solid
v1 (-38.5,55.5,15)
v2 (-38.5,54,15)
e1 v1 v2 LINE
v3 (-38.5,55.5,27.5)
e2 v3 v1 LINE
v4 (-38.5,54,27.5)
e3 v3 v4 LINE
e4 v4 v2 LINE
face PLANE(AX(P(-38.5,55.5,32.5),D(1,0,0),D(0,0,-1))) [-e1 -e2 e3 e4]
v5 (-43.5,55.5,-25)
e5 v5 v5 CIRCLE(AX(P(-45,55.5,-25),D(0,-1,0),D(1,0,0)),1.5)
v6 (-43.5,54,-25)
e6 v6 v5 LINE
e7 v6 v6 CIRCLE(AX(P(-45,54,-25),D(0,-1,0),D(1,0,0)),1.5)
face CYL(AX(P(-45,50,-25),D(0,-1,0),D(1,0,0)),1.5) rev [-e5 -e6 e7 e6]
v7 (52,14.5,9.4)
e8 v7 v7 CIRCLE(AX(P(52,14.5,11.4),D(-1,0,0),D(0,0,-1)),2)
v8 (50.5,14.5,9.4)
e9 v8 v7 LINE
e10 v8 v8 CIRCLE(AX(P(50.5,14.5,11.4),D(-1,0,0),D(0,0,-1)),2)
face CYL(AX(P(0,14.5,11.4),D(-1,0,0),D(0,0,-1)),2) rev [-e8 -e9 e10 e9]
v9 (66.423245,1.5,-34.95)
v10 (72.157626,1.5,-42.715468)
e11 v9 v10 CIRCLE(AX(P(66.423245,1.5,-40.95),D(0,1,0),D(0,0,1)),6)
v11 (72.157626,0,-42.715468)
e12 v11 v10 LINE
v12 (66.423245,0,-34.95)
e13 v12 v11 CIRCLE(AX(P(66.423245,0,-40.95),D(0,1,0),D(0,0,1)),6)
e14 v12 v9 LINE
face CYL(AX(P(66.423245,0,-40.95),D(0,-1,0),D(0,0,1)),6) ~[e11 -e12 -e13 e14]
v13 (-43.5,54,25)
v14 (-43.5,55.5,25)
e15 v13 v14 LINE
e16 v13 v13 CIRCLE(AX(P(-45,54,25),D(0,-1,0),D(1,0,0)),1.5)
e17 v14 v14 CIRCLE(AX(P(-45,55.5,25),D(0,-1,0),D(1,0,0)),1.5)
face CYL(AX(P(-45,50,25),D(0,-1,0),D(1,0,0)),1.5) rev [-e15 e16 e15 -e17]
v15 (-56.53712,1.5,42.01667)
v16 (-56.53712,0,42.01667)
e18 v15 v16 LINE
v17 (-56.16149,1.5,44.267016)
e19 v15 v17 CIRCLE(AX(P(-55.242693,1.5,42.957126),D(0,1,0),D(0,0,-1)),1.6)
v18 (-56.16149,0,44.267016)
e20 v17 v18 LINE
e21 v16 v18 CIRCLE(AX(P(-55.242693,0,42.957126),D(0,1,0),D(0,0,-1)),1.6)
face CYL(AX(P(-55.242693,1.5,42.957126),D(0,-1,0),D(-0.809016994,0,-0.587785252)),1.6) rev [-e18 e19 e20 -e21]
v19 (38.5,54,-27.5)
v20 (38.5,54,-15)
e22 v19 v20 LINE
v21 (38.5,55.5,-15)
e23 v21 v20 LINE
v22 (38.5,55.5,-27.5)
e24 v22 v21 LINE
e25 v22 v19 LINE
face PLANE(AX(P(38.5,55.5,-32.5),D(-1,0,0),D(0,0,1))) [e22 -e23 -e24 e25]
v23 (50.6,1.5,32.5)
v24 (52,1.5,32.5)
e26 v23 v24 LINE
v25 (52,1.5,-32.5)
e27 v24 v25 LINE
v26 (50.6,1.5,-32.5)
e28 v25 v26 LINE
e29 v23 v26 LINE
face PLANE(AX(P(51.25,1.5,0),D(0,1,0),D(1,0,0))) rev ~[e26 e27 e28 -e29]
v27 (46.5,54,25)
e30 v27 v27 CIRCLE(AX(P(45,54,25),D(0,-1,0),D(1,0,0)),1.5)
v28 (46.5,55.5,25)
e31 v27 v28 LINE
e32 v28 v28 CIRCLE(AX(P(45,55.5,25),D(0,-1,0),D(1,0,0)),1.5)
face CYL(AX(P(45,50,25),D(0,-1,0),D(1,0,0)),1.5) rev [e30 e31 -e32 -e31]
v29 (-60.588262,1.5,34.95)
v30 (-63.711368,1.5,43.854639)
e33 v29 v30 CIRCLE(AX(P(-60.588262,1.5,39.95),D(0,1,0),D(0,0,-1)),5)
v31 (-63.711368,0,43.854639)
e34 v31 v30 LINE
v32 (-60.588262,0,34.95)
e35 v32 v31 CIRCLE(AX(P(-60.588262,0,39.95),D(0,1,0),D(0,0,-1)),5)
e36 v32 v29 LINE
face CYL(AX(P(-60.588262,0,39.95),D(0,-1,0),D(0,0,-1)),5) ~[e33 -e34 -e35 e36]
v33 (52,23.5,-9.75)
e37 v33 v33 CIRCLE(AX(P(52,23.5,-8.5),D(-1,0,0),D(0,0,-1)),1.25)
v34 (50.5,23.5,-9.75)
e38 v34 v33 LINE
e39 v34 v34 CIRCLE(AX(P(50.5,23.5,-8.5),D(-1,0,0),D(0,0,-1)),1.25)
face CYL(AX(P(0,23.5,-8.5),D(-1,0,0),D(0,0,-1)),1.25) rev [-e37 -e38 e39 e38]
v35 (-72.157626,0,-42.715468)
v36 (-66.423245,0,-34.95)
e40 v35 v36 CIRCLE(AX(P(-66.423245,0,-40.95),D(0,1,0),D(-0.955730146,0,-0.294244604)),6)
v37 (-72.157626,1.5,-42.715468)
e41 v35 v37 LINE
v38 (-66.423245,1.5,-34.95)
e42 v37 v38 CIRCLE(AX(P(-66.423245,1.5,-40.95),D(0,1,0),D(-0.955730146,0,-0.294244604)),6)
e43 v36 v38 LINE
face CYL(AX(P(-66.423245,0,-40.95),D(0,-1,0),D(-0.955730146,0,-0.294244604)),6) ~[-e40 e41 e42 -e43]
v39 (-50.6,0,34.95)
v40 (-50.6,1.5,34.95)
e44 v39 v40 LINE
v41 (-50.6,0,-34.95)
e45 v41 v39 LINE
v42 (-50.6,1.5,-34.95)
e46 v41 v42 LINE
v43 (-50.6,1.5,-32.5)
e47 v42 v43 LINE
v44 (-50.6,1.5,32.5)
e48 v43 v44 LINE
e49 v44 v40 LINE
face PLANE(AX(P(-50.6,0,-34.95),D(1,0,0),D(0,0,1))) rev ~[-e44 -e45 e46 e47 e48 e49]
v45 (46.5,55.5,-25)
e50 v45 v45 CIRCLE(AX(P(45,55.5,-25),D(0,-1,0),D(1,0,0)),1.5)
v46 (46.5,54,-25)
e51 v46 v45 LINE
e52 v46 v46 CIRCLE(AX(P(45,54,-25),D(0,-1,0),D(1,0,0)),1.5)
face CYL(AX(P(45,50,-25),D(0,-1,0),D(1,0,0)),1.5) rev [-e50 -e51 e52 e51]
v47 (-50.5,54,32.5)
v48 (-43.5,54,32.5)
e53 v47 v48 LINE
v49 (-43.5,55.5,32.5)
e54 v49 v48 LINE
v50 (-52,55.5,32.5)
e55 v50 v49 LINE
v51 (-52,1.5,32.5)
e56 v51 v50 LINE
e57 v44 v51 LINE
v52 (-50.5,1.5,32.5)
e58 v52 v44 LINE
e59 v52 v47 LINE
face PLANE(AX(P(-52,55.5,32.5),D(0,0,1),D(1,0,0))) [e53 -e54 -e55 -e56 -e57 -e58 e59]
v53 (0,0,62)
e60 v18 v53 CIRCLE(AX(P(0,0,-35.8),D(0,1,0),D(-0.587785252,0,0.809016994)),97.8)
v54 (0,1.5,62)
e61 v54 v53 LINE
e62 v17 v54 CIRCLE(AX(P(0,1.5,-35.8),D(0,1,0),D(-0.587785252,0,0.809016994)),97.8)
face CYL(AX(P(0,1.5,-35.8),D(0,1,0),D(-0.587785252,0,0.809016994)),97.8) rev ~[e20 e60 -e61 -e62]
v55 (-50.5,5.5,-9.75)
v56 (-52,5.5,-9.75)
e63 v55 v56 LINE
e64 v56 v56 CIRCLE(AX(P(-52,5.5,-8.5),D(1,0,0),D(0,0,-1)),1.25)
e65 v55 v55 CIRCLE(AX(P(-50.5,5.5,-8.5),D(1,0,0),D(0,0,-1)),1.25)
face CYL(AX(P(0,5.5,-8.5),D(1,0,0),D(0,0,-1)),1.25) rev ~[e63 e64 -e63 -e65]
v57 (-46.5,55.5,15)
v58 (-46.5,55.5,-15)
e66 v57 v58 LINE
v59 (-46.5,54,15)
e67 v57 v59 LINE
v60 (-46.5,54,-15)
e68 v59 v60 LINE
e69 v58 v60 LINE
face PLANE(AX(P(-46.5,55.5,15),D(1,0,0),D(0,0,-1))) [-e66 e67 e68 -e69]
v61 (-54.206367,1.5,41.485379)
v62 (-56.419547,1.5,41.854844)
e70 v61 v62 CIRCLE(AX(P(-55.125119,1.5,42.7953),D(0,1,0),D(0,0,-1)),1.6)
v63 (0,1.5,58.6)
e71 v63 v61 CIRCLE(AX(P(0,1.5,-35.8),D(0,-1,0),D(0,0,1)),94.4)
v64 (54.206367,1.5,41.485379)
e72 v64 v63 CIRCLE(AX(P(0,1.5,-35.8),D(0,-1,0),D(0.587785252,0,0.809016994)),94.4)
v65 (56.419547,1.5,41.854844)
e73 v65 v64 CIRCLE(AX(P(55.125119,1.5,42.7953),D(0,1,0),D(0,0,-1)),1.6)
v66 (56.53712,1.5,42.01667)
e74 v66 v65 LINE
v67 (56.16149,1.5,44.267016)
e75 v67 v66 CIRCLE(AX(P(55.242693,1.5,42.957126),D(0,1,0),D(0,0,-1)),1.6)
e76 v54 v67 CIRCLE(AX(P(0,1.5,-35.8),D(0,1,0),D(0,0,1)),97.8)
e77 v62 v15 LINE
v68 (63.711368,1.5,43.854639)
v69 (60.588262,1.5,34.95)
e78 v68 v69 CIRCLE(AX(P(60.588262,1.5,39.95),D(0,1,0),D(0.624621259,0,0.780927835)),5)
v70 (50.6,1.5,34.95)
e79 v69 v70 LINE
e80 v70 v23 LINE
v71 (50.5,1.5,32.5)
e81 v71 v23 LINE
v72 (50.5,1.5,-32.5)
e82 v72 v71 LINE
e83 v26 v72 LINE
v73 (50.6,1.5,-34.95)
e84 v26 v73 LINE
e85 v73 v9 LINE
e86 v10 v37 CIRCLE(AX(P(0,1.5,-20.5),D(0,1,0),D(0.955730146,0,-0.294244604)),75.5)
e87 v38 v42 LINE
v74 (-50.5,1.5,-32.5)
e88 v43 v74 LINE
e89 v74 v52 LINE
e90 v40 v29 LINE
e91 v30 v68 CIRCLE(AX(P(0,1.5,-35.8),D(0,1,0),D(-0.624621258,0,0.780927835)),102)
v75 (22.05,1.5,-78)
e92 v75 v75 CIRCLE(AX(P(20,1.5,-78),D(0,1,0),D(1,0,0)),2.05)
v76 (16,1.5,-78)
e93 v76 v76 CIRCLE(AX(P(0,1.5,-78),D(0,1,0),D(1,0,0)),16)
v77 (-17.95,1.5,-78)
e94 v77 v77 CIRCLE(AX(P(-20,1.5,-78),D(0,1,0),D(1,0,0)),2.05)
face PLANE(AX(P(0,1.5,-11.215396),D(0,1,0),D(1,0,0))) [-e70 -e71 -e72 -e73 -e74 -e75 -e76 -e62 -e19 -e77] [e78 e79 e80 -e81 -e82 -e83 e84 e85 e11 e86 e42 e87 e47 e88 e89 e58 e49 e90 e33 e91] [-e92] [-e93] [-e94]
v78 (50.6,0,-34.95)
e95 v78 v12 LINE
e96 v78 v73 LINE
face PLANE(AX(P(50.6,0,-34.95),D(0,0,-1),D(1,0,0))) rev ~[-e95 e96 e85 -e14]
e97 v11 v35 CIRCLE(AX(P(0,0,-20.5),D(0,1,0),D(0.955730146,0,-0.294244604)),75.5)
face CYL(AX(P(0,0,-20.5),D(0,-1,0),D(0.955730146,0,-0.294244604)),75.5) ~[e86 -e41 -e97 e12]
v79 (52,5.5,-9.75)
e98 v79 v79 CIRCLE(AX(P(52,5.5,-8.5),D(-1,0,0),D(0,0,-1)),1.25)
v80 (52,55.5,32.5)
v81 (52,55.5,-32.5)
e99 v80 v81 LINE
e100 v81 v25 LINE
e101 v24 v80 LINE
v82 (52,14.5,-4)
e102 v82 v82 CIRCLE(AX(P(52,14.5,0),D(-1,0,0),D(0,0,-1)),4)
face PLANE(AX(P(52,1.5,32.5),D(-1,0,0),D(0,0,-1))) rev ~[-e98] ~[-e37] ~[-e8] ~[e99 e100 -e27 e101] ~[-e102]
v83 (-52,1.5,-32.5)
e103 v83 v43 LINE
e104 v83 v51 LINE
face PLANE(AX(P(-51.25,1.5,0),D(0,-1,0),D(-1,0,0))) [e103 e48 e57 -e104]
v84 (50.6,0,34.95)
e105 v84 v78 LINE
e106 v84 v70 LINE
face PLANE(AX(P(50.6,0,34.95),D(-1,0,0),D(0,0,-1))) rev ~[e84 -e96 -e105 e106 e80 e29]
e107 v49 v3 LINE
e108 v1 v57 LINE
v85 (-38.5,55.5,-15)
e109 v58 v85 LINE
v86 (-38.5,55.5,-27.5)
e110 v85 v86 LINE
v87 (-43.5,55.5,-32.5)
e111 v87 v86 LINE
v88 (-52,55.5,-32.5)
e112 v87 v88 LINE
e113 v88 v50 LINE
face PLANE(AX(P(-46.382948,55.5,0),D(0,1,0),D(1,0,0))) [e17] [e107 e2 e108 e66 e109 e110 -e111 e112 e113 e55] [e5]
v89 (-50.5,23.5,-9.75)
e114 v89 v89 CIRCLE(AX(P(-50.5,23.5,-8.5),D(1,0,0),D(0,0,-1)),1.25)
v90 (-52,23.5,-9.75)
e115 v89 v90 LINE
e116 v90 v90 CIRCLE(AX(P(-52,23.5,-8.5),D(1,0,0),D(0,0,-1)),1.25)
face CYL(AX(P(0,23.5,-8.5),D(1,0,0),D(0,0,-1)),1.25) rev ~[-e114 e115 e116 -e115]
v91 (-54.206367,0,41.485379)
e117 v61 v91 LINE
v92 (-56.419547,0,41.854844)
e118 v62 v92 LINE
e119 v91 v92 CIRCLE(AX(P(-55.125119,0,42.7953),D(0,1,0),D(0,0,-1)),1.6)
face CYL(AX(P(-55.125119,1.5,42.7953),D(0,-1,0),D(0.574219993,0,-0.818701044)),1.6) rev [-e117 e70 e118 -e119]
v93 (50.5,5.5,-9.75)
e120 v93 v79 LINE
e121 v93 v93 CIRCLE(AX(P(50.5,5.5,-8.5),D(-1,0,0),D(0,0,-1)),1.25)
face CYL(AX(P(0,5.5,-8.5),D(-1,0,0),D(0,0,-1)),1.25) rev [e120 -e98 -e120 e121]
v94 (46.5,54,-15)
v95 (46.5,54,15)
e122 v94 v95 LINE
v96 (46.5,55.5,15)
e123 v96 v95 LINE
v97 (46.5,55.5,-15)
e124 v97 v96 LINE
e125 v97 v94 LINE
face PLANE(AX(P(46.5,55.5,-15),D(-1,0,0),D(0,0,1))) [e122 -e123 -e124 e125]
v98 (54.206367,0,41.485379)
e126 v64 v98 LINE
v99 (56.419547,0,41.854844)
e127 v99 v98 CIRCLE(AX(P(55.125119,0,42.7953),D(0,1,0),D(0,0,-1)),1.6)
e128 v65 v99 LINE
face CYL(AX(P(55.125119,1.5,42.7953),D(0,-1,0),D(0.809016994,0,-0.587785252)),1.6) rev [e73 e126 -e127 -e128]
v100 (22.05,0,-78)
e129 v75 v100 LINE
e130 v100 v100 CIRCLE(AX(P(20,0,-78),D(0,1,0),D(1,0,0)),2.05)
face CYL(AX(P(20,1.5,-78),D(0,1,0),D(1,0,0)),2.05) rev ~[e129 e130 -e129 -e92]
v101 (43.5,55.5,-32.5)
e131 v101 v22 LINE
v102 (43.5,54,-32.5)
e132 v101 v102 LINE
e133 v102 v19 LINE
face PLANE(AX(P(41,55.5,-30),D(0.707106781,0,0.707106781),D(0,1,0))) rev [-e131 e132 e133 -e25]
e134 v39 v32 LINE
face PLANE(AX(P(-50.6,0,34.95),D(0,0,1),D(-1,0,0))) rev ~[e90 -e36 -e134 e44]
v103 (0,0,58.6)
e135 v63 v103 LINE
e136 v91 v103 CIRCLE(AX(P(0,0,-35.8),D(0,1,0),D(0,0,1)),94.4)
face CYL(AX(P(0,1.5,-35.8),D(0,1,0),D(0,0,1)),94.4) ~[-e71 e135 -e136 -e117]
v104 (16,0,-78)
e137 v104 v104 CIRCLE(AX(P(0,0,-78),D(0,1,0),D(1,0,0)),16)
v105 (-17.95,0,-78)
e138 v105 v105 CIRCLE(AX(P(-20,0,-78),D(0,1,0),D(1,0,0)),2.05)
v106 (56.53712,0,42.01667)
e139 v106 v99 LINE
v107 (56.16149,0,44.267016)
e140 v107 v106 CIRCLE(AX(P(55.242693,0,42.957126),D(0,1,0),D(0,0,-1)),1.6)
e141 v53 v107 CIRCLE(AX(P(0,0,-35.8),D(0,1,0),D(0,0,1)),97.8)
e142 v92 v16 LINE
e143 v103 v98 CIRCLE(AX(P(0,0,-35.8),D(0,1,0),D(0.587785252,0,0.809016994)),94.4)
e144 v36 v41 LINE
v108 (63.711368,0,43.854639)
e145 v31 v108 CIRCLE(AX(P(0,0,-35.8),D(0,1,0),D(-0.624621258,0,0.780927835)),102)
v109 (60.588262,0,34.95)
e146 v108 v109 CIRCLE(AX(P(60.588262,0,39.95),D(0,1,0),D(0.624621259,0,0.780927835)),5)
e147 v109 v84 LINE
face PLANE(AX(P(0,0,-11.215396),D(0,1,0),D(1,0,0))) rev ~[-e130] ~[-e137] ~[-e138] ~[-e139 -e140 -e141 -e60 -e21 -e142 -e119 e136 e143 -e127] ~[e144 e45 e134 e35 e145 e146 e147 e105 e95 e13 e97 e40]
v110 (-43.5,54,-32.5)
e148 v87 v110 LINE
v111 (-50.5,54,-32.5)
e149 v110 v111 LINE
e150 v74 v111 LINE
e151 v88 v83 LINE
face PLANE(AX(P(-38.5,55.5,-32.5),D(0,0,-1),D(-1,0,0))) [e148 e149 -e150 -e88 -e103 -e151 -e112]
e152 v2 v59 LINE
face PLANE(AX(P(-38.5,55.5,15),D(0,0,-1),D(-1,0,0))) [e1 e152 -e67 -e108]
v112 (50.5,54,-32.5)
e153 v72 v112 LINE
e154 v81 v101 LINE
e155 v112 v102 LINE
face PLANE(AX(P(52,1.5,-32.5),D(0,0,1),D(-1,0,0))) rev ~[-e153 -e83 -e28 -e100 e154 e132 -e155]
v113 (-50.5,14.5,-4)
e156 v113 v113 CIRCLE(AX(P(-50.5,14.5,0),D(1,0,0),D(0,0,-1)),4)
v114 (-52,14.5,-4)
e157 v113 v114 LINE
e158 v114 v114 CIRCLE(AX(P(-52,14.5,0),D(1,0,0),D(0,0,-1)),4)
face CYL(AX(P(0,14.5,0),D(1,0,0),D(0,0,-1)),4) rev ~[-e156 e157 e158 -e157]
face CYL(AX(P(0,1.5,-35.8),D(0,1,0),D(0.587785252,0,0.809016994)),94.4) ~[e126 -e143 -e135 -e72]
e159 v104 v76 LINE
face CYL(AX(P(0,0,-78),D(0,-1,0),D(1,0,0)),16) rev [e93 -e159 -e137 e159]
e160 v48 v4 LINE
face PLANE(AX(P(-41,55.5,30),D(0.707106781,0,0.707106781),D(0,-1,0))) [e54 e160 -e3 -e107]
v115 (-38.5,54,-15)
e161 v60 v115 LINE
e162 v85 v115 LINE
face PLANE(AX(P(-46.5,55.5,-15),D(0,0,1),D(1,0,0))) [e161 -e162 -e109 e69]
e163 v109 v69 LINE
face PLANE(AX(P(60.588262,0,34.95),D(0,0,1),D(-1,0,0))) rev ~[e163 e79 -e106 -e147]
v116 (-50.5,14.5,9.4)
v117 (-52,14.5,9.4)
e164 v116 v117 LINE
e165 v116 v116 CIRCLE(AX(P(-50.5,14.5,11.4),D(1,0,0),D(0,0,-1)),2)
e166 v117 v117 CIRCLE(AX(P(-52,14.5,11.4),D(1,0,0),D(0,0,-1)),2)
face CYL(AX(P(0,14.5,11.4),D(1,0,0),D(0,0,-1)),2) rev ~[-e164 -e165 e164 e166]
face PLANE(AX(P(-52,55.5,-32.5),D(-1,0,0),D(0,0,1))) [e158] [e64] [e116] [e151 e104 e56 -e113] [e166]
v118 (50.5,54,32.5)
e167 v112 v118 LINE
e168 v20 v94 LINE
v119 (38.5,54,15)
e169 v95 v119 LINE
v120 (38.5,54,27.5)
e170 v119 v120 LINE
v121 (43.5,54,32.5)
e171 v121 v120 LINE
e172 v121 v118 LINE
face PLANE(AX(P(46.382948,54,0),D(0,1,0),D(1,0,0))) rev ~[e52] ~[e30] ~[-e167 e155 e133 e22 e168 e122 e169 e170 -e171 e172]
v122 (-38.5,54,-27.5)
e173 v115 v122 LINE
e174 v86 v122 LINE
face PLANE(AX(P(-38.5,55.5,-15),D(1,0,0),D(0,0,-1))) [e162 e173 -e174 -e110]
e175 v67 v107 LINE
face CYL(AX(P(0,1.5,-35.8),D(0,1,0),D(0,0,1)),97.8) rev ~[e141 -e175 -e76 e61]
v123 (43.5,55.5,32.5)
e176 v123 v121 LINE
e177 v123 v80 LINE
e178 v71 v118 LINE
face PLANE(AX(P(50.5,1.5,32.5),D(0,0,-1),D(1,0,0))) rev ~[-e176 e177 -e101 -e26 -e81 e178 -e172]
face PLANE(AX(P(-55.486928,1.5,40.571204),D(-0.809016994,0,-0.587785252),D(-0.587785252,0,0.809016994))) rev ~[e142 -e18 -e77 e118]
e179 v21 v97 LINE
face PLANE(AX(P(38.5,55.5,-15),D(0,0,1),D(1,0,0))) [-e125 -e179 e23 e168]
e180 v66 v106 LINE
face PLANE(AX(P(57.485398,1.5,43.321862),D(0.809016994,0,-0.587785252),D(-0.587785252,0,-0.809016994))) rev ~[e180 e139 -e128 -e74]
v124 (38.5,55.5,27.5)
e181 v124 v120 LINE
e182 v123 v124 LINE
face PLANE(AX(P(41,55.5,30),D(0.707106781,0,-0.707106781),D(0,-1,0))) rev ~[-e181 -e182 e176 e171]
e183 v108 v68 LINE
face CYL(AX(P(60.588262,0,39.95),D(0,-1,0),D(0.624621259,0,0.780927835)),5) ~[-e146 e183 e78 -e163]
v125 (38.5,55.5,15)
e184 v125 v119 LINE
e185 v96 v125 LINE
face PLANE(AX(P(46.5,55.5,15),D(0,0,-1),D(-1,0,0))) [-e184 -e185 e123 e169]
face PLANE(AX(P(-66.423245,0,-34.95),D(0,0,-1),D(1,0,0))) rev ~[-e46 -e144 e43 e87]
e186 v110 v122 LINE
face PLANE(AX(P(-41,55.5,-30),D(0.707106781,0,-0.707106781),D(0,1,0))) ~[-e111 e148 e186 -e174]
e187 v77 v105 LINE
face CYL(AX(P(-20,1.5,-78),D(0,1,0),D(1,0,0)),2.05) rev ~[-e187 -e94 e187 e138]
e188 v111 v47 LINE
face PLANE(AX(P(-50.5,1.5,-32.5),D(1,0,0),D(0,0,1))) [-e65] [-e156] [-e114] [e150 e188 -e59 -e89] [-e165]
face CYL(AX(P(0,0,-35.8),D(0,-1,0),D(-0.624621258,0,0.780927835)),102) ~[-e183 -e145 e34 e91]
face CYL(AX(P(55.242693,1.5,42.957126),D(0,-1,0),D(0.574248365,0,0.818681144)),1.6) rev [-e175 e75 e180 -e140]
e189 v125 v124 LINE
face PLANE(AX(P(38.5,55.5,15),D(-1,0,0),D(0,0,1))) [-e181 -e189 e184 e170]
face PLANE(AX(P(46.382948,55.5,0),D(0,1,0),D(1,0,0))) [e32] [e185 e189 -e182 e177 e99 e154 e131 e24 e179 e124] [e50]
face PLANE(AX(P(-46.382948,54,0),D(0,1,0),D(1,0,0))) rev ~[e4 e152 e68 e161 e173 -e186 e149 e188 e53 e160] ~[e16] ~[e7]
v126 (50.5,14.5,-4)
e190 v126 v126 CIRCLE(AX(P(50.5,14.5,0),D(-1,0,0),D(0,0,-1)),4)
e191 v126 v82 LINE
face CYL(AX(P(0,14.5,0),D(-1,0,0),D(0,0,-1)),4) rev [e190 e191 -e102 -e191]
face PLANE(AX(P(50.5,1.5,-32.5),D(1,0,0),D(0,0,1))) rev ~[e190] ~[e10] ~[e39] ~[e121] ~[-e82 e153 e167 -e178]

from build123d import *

# Parameters (mm, degrees)
SKETCH_1_R               = 16
EXTRUDE_1_DEPTH          = 1.5
EXTRUDE_START            = 1.5
EXTRUDE_2_DEPTH          = 53.5
SKETCH_5_R               = 4
CUT_EXTRUDE_1_DEPTH      = 54
CUT_EXTRUDE_1_DEPTH_BACK = 73.423245178
EXTRUDE_START_2          = 55.5
EXTRUDE_3_DEPTH          = 1.5
CUT_EXTRUDE_START        = 50
SKETCH_9_R               = 1.5
CUT_EXTRUDE_2_DEPTH      = 6.5
SKETCH_11_R              = 2.05
CUT_EXTRUDE_3_DEPTH      = 2.5
CHAMFER_1_SIZE           = 5
SKETCH_12_R              = 2
SKETCH_12_R_2            = 1.25
CUT_EXTRUDE_4_DEPTH      = 73.423245178
CUT_EXTRUDE_4_DEPTH_BACK = 73.423245178
CUT_EXTRUDE_5_DEPTH      = 10
FILLET_1_R               = 1.6


with BuildPart() as part:
    # Эскиз1 → Бобышка-Вытянуть1 (new body)
    with BuildSketch(Plane(origin=(0, 0, 0), x_dir=(1, 0, 0), z_dir=(0, 1, 0))):
        with BuildLine():
            Line((-50.6, 34.95), (-50.6, 0))
            Line((-50.6, 0), (-50.6, -34.95))
            Line((-50.6, -34.95), (-56.797799253, -34.95))
            Line((-56.797799253, -34.95), (-60.588262065, -34.95))
            ThreePointArc((-60.588262065, -34.95), (-65.306481849, -38.29518821), (-63.711368357, -43.854639175))
            ThreePointArc((-63.711368357, -43.854639175), (0, -66.2), (63.711368357, -43.854639175))
            ThreePointArc((63.711368357, -43.854639175), (65.306481849, -38.29518821), (60.588262065, -34.95))
            Line((60.588262065, -34.95), (50.6, -34.95))
            Line((50.6, -34.95), (50.6, 0))
            Line((50.6, 0), (50.6, 34.95))
            Line((50.6, 34.95), (66.052990091, 34.95))
            Line((66.052990091, 34.95), (66.314478057, 34.95))
            Line((66.314478057, 34.95), (66.423245178, 34.95))
            ThreePointArc((66.423245178, 34.95), (71.249879914, 37.385789411), (72.157626057, 42.715467626))
            ThreePointArc((72.157626057, 42.715467626), (0, 96), (-72.157626057, 42.715467626))
            ThreePointArc((-72.157626057, 42.715467626), (-71.249879914, 37.385789411), (-66.423245178, 34.95))
            Line((-66.423245178, 34.95), (-50.6, 34.95))
        make_face()
        with Locations((0, 78)):
            Circle(SKETCH_1_R, mode=Mode.SUBTRACT)
        with BuildLine():
            Line((-50.6, 34.95), (-50.6, 0))
            Line((-50.6, 0), (-50.6, -34.95))
            Line((-50.6, -34.95), (-56.797799253, -34.95))
            Line((-56.797799253, -34.95), (-60.588262065, -34.95))
            ThreePointArc((-60.588262065, -34.95), (-65.306481849, -38.29518821), (-63.711368357, -43.854639175))
            ThreePointArc((-63.711368357, -43.854639175), (0, -66.2), (63.711368357, -43.854639175))
            ThreePointArc((63.711368357, -43.854639175), (65.306481849, -38.29518821), (60.588262065, -34.95))
            Line((60.588262065, -34.95), (50.6, -34.95))
            Line((50.6, -34.95), (50.6, 0))
            Line((50.6, 0), (50.6, 34.95))
            Line((50.6, 34.95), (66.052990091, 34.95))
            Line((66.052990091, 34.95), (66.314478057, 34.95))
            Line((66.314478057, 34.95), (66.423245178, 34.95))
            ThreePointArc((66.423245178, 34.95), (71.249879914, 37.385789411), (72.157626057, 42.715467626))
            ThreePointArc((72.157626057, 42.715467626), (0, 96), (-72.157626057, 42.715467626))
            ThreePointArc((-72.157626057, 42.715467626), (-71.249879914, 37.385789411), (-66.423245178, 34.95))
            Line((-66.423245178, 34.95), (-50.6, 34.95))
        make_face()
        with Locations((0, 78)):
            Circle(SKETCH_1_R, mode=Mode.SUBTRACT)
        with BuildLine():
            Line((-50.6, 34.95), (-50.6, 0))
            Line((-50.6, 0), (-50.6, -34.95))
            Line((-50.6, -34.95), (-56.797799253, -34.95))
            Line((-56.797799253, -34.95), (-60.588262065, -34.95))
            ThreePointArc((-60.588262065, -34.95), (-65.306481849, -38.29518821), (-63.711368357, -43.854639175))
            ThreePointArc((-63.711368357, -43.854639175), (0, -66.2), (63.711368357, -43.854639175))
            ThreePointArc((63.711368357, -43.854639175), (65.306481849, -38.29518821), (60.588262065, -34.95))
            Line((60.588262065, -34.95), (50.6, -34.95))
            Line((50.6, -34.95), (50.6, 0))
            Line((50.6, 0), (50.6, 34.95))
            Line((50.6, 34.95), (66.052990091, 34.95))
            Line((66.052990091, 34.95), (66.314478057, 34.95))
            Line((66.314478057, 34.95), (66.423245178, 34.95))
            ThreePointArc((66.423245178, 34.95), (71.249879914, 37.385789411), (72.157626057, 42.715467626))
            ThreePointArc((72.157626057, 42.715467626), (0, 96), (-72.157626057, 42.715467626))
            ThreePointArc((-72.157626057, 42.715467626), (-71.249879914, 37.385789411), (-66.423245178, 34.95))
            Line((-66.423245178, 34.95), (-50.6, 34.95))
        make_face()
        with Locations((0, 78)):
            Circle(SKETCH_1_R, mode=Mode.SUBTRACT)
    extrude(amount=EXTRUDE_1_DEPTH)

    # Эскиз3 → Бобышка-Вытянуть2 (add)
    with BuildSketch(Plane(origin=(0, 0, 0), x_dir=(1, 0, 0), z_dir=(0, 1, 0)).offset(EXTRUDE_START)):
        Polygon((-52, 0), (-52, 32.5), (-50.5, 32.5), (-50.5, -32.5), (-52, -32.5), align=None)
        Polygon((52, -32.5), (52, 0), (52, 32.5), (50.5, 32.5), (50.5, -32.5), align=None)
    extrude(amount=EXTRUDE_2_DEPTH)

    # Эскиз5 → Вырез-Вытянуть1 (cut, two sides)
    with BuildSketch(Plane(origin=(0, 0, 0), x_dir=(0, 0, -1), z_dir=(1, 0, 0))) as cut_extrude_1_sk:
        with Locations((0, 14.5)):
            Circle(SKETCH_5_R)
    extrude(amount=CUT_EXTRUDE_1_DEPTH, mode=Mode.SUBTRACT)
    extrude(cut_extrude_1_sk.sketch, amount=-CUT_EXTRUDE_1_DEPTH_BACK, mode=Mode.SUBTRACT)

    # Эскиз6 → Бобышка-Вытянуть3 (add)
    with BuildSketch(Plane(origin=(0, 0, 0), x_dir=(1, 0, 0), z_dir=(0, 1, 0)).offset(EXTRUDE_START_2)):
        Polygon((-52, 32.5), (-52, 0), (-52, -32.5), (-38.5, -32.5), (-38.5, -15), (-46.5, -15), (-46.5, 0), (-46.5, 15), (-38.5, 15), (-38.5, 32.5), align=None)
        Polygon((46.5, 0), (46.5, -15), (38.5, -15), (38.5, -32.5), (52, -32.5), (52, 0), (52, 32.5), (38.5, 32.5), (38.5, 15), (46.5, 15), align=None)
    extrude(amount=-EXTRUDE_3_DEPTH)

    # Эскиз9 → Вырез-Вытянуть2 (cut, through all)
    with BuildSketch(Plane(origin=(0, 0, 0), x_dir=(1, 0, 0), z_dir=(0, 1, 0)).offset(CUT_EXTRUDE_START)):
        with Locations((-45, 25)):
            Circle(SKETCH_9_R)
        with Locations((-45, -25)):
            Circle(SKETCH_9_R)
        with Locations((45, -25)):
            Circle(SKETCH_9_R)
        with Locations((45, 25)):
            Circle(SKETCH_9_R)
    extrude(amount=CUT_EXTRUDE_2_DEPTH, mode=Mode.SUBTRACT)

    # Эскиз11 → Вырез-Вытянуть3 (cut, through all)
    with BuildSketch(Plane(origin=(0, 1.5, 0), x_dir=(1, 0, 0), z_dir=(0, 1, 0))):
        with Locations((20, 78)):
            Circle(SKETCH_11_R)
        with Locations((-20, 78)):
            Circle(SKETCH_11_R)
    extrude(amount=-CUT_EXTRUDE_3_DEPTH, mode=Mode.SUBTRACT)

    # Фаска1
    chamfer_1_edges = [part.edges().sort_by_distance(p)[0] for p in [
        (38.5, 54.75, -32.5),
        (38.5, 54.75, 32.5),
        (-38.5, 54.75, 32.5),
        (-38.5, 54.75, -32.5),
    ]]
    chamfer(chamfer_1_edges, length=CHAMFER_1_SIZE)

    # Эскиз12 → Вырез-Вытянуть4 (cut, two sides)
    with BuildSketch(Plane(origin=(0, 0, 0), x_dir=(0, 0, -1), z_dir=(1, 0, 0))) as cut_extrude_4_sk:
        with Locations((-11.4, 14.5)):
            Circle(SKETCH_12_R)
        with Locations((8.5, 23.5)):
            Circle(SKETCH_12_R_2)
        with Locations((8.5, 5.5)):
            Circle(SKETCH_12_R_2)
    extrude(amount=CUT_EXTRUDE_4_DEPTH, mode=Mode.SUBTRACT)
    extrude(cut_extrude_4_sk.sketch, amount=-CUT_EXTRUDE_4_DEPTH_BACK, mode=Mode.SUBTRACT)

    # Эскиз13 → Вырез-Вытянуть5 (cut)
    with BuildSketch(Plane(origin=(0, 1.5, 0), x_dir=(1, 0, 0), z_dir=(0, 1, 0))):
        with BuildLine():
            Line((0, -62), (0, -58.6))
            ThreePointArc((0, -58.6), (-29.171204269, -53.979735138), (-55.486927816, -40.571204269))
            Line((-55.486927816, -40.571204269), (-57.485397674, -43.32186205))
            ThreePointArc((-57.485397674, -43.32186205), (-30.22186205, -57.213327294), (0, -62))
        make_face()
        with BuildLine():
            ThreePointArc((55.486927816, -40.571204269), (29.171204269, -53.979735138), (0, -58.6))
            Line((0, -58.6), (0, -62))
            ThreePointArc((0, -62), (30.22186205, -57.213327294), (57.485397674, -43.32186205))
            Line((57.485397674, -43.32186205), (55.486927816, -40.571204269))
        make_face()
    extrude(amount=-CUT_EXTRUDE_5_DEPTH, mode=Mode.SUBTRACT)

    # Скругление1
    fillet_1_edges = [part.edges().sort_by_distance(p)[0] for p in [
        (-55.486927816, 0.75, 40.571204269),
        (55.486927816, 0.75, 40.571204269),
        (57.485397674, 0.75, 43.32186205),
        (-57.485397674, 0.75, 43.32186205),
    ]]
    fillet(fillet_1_edges, radius=FILLET_1_R)


solid = part.part
